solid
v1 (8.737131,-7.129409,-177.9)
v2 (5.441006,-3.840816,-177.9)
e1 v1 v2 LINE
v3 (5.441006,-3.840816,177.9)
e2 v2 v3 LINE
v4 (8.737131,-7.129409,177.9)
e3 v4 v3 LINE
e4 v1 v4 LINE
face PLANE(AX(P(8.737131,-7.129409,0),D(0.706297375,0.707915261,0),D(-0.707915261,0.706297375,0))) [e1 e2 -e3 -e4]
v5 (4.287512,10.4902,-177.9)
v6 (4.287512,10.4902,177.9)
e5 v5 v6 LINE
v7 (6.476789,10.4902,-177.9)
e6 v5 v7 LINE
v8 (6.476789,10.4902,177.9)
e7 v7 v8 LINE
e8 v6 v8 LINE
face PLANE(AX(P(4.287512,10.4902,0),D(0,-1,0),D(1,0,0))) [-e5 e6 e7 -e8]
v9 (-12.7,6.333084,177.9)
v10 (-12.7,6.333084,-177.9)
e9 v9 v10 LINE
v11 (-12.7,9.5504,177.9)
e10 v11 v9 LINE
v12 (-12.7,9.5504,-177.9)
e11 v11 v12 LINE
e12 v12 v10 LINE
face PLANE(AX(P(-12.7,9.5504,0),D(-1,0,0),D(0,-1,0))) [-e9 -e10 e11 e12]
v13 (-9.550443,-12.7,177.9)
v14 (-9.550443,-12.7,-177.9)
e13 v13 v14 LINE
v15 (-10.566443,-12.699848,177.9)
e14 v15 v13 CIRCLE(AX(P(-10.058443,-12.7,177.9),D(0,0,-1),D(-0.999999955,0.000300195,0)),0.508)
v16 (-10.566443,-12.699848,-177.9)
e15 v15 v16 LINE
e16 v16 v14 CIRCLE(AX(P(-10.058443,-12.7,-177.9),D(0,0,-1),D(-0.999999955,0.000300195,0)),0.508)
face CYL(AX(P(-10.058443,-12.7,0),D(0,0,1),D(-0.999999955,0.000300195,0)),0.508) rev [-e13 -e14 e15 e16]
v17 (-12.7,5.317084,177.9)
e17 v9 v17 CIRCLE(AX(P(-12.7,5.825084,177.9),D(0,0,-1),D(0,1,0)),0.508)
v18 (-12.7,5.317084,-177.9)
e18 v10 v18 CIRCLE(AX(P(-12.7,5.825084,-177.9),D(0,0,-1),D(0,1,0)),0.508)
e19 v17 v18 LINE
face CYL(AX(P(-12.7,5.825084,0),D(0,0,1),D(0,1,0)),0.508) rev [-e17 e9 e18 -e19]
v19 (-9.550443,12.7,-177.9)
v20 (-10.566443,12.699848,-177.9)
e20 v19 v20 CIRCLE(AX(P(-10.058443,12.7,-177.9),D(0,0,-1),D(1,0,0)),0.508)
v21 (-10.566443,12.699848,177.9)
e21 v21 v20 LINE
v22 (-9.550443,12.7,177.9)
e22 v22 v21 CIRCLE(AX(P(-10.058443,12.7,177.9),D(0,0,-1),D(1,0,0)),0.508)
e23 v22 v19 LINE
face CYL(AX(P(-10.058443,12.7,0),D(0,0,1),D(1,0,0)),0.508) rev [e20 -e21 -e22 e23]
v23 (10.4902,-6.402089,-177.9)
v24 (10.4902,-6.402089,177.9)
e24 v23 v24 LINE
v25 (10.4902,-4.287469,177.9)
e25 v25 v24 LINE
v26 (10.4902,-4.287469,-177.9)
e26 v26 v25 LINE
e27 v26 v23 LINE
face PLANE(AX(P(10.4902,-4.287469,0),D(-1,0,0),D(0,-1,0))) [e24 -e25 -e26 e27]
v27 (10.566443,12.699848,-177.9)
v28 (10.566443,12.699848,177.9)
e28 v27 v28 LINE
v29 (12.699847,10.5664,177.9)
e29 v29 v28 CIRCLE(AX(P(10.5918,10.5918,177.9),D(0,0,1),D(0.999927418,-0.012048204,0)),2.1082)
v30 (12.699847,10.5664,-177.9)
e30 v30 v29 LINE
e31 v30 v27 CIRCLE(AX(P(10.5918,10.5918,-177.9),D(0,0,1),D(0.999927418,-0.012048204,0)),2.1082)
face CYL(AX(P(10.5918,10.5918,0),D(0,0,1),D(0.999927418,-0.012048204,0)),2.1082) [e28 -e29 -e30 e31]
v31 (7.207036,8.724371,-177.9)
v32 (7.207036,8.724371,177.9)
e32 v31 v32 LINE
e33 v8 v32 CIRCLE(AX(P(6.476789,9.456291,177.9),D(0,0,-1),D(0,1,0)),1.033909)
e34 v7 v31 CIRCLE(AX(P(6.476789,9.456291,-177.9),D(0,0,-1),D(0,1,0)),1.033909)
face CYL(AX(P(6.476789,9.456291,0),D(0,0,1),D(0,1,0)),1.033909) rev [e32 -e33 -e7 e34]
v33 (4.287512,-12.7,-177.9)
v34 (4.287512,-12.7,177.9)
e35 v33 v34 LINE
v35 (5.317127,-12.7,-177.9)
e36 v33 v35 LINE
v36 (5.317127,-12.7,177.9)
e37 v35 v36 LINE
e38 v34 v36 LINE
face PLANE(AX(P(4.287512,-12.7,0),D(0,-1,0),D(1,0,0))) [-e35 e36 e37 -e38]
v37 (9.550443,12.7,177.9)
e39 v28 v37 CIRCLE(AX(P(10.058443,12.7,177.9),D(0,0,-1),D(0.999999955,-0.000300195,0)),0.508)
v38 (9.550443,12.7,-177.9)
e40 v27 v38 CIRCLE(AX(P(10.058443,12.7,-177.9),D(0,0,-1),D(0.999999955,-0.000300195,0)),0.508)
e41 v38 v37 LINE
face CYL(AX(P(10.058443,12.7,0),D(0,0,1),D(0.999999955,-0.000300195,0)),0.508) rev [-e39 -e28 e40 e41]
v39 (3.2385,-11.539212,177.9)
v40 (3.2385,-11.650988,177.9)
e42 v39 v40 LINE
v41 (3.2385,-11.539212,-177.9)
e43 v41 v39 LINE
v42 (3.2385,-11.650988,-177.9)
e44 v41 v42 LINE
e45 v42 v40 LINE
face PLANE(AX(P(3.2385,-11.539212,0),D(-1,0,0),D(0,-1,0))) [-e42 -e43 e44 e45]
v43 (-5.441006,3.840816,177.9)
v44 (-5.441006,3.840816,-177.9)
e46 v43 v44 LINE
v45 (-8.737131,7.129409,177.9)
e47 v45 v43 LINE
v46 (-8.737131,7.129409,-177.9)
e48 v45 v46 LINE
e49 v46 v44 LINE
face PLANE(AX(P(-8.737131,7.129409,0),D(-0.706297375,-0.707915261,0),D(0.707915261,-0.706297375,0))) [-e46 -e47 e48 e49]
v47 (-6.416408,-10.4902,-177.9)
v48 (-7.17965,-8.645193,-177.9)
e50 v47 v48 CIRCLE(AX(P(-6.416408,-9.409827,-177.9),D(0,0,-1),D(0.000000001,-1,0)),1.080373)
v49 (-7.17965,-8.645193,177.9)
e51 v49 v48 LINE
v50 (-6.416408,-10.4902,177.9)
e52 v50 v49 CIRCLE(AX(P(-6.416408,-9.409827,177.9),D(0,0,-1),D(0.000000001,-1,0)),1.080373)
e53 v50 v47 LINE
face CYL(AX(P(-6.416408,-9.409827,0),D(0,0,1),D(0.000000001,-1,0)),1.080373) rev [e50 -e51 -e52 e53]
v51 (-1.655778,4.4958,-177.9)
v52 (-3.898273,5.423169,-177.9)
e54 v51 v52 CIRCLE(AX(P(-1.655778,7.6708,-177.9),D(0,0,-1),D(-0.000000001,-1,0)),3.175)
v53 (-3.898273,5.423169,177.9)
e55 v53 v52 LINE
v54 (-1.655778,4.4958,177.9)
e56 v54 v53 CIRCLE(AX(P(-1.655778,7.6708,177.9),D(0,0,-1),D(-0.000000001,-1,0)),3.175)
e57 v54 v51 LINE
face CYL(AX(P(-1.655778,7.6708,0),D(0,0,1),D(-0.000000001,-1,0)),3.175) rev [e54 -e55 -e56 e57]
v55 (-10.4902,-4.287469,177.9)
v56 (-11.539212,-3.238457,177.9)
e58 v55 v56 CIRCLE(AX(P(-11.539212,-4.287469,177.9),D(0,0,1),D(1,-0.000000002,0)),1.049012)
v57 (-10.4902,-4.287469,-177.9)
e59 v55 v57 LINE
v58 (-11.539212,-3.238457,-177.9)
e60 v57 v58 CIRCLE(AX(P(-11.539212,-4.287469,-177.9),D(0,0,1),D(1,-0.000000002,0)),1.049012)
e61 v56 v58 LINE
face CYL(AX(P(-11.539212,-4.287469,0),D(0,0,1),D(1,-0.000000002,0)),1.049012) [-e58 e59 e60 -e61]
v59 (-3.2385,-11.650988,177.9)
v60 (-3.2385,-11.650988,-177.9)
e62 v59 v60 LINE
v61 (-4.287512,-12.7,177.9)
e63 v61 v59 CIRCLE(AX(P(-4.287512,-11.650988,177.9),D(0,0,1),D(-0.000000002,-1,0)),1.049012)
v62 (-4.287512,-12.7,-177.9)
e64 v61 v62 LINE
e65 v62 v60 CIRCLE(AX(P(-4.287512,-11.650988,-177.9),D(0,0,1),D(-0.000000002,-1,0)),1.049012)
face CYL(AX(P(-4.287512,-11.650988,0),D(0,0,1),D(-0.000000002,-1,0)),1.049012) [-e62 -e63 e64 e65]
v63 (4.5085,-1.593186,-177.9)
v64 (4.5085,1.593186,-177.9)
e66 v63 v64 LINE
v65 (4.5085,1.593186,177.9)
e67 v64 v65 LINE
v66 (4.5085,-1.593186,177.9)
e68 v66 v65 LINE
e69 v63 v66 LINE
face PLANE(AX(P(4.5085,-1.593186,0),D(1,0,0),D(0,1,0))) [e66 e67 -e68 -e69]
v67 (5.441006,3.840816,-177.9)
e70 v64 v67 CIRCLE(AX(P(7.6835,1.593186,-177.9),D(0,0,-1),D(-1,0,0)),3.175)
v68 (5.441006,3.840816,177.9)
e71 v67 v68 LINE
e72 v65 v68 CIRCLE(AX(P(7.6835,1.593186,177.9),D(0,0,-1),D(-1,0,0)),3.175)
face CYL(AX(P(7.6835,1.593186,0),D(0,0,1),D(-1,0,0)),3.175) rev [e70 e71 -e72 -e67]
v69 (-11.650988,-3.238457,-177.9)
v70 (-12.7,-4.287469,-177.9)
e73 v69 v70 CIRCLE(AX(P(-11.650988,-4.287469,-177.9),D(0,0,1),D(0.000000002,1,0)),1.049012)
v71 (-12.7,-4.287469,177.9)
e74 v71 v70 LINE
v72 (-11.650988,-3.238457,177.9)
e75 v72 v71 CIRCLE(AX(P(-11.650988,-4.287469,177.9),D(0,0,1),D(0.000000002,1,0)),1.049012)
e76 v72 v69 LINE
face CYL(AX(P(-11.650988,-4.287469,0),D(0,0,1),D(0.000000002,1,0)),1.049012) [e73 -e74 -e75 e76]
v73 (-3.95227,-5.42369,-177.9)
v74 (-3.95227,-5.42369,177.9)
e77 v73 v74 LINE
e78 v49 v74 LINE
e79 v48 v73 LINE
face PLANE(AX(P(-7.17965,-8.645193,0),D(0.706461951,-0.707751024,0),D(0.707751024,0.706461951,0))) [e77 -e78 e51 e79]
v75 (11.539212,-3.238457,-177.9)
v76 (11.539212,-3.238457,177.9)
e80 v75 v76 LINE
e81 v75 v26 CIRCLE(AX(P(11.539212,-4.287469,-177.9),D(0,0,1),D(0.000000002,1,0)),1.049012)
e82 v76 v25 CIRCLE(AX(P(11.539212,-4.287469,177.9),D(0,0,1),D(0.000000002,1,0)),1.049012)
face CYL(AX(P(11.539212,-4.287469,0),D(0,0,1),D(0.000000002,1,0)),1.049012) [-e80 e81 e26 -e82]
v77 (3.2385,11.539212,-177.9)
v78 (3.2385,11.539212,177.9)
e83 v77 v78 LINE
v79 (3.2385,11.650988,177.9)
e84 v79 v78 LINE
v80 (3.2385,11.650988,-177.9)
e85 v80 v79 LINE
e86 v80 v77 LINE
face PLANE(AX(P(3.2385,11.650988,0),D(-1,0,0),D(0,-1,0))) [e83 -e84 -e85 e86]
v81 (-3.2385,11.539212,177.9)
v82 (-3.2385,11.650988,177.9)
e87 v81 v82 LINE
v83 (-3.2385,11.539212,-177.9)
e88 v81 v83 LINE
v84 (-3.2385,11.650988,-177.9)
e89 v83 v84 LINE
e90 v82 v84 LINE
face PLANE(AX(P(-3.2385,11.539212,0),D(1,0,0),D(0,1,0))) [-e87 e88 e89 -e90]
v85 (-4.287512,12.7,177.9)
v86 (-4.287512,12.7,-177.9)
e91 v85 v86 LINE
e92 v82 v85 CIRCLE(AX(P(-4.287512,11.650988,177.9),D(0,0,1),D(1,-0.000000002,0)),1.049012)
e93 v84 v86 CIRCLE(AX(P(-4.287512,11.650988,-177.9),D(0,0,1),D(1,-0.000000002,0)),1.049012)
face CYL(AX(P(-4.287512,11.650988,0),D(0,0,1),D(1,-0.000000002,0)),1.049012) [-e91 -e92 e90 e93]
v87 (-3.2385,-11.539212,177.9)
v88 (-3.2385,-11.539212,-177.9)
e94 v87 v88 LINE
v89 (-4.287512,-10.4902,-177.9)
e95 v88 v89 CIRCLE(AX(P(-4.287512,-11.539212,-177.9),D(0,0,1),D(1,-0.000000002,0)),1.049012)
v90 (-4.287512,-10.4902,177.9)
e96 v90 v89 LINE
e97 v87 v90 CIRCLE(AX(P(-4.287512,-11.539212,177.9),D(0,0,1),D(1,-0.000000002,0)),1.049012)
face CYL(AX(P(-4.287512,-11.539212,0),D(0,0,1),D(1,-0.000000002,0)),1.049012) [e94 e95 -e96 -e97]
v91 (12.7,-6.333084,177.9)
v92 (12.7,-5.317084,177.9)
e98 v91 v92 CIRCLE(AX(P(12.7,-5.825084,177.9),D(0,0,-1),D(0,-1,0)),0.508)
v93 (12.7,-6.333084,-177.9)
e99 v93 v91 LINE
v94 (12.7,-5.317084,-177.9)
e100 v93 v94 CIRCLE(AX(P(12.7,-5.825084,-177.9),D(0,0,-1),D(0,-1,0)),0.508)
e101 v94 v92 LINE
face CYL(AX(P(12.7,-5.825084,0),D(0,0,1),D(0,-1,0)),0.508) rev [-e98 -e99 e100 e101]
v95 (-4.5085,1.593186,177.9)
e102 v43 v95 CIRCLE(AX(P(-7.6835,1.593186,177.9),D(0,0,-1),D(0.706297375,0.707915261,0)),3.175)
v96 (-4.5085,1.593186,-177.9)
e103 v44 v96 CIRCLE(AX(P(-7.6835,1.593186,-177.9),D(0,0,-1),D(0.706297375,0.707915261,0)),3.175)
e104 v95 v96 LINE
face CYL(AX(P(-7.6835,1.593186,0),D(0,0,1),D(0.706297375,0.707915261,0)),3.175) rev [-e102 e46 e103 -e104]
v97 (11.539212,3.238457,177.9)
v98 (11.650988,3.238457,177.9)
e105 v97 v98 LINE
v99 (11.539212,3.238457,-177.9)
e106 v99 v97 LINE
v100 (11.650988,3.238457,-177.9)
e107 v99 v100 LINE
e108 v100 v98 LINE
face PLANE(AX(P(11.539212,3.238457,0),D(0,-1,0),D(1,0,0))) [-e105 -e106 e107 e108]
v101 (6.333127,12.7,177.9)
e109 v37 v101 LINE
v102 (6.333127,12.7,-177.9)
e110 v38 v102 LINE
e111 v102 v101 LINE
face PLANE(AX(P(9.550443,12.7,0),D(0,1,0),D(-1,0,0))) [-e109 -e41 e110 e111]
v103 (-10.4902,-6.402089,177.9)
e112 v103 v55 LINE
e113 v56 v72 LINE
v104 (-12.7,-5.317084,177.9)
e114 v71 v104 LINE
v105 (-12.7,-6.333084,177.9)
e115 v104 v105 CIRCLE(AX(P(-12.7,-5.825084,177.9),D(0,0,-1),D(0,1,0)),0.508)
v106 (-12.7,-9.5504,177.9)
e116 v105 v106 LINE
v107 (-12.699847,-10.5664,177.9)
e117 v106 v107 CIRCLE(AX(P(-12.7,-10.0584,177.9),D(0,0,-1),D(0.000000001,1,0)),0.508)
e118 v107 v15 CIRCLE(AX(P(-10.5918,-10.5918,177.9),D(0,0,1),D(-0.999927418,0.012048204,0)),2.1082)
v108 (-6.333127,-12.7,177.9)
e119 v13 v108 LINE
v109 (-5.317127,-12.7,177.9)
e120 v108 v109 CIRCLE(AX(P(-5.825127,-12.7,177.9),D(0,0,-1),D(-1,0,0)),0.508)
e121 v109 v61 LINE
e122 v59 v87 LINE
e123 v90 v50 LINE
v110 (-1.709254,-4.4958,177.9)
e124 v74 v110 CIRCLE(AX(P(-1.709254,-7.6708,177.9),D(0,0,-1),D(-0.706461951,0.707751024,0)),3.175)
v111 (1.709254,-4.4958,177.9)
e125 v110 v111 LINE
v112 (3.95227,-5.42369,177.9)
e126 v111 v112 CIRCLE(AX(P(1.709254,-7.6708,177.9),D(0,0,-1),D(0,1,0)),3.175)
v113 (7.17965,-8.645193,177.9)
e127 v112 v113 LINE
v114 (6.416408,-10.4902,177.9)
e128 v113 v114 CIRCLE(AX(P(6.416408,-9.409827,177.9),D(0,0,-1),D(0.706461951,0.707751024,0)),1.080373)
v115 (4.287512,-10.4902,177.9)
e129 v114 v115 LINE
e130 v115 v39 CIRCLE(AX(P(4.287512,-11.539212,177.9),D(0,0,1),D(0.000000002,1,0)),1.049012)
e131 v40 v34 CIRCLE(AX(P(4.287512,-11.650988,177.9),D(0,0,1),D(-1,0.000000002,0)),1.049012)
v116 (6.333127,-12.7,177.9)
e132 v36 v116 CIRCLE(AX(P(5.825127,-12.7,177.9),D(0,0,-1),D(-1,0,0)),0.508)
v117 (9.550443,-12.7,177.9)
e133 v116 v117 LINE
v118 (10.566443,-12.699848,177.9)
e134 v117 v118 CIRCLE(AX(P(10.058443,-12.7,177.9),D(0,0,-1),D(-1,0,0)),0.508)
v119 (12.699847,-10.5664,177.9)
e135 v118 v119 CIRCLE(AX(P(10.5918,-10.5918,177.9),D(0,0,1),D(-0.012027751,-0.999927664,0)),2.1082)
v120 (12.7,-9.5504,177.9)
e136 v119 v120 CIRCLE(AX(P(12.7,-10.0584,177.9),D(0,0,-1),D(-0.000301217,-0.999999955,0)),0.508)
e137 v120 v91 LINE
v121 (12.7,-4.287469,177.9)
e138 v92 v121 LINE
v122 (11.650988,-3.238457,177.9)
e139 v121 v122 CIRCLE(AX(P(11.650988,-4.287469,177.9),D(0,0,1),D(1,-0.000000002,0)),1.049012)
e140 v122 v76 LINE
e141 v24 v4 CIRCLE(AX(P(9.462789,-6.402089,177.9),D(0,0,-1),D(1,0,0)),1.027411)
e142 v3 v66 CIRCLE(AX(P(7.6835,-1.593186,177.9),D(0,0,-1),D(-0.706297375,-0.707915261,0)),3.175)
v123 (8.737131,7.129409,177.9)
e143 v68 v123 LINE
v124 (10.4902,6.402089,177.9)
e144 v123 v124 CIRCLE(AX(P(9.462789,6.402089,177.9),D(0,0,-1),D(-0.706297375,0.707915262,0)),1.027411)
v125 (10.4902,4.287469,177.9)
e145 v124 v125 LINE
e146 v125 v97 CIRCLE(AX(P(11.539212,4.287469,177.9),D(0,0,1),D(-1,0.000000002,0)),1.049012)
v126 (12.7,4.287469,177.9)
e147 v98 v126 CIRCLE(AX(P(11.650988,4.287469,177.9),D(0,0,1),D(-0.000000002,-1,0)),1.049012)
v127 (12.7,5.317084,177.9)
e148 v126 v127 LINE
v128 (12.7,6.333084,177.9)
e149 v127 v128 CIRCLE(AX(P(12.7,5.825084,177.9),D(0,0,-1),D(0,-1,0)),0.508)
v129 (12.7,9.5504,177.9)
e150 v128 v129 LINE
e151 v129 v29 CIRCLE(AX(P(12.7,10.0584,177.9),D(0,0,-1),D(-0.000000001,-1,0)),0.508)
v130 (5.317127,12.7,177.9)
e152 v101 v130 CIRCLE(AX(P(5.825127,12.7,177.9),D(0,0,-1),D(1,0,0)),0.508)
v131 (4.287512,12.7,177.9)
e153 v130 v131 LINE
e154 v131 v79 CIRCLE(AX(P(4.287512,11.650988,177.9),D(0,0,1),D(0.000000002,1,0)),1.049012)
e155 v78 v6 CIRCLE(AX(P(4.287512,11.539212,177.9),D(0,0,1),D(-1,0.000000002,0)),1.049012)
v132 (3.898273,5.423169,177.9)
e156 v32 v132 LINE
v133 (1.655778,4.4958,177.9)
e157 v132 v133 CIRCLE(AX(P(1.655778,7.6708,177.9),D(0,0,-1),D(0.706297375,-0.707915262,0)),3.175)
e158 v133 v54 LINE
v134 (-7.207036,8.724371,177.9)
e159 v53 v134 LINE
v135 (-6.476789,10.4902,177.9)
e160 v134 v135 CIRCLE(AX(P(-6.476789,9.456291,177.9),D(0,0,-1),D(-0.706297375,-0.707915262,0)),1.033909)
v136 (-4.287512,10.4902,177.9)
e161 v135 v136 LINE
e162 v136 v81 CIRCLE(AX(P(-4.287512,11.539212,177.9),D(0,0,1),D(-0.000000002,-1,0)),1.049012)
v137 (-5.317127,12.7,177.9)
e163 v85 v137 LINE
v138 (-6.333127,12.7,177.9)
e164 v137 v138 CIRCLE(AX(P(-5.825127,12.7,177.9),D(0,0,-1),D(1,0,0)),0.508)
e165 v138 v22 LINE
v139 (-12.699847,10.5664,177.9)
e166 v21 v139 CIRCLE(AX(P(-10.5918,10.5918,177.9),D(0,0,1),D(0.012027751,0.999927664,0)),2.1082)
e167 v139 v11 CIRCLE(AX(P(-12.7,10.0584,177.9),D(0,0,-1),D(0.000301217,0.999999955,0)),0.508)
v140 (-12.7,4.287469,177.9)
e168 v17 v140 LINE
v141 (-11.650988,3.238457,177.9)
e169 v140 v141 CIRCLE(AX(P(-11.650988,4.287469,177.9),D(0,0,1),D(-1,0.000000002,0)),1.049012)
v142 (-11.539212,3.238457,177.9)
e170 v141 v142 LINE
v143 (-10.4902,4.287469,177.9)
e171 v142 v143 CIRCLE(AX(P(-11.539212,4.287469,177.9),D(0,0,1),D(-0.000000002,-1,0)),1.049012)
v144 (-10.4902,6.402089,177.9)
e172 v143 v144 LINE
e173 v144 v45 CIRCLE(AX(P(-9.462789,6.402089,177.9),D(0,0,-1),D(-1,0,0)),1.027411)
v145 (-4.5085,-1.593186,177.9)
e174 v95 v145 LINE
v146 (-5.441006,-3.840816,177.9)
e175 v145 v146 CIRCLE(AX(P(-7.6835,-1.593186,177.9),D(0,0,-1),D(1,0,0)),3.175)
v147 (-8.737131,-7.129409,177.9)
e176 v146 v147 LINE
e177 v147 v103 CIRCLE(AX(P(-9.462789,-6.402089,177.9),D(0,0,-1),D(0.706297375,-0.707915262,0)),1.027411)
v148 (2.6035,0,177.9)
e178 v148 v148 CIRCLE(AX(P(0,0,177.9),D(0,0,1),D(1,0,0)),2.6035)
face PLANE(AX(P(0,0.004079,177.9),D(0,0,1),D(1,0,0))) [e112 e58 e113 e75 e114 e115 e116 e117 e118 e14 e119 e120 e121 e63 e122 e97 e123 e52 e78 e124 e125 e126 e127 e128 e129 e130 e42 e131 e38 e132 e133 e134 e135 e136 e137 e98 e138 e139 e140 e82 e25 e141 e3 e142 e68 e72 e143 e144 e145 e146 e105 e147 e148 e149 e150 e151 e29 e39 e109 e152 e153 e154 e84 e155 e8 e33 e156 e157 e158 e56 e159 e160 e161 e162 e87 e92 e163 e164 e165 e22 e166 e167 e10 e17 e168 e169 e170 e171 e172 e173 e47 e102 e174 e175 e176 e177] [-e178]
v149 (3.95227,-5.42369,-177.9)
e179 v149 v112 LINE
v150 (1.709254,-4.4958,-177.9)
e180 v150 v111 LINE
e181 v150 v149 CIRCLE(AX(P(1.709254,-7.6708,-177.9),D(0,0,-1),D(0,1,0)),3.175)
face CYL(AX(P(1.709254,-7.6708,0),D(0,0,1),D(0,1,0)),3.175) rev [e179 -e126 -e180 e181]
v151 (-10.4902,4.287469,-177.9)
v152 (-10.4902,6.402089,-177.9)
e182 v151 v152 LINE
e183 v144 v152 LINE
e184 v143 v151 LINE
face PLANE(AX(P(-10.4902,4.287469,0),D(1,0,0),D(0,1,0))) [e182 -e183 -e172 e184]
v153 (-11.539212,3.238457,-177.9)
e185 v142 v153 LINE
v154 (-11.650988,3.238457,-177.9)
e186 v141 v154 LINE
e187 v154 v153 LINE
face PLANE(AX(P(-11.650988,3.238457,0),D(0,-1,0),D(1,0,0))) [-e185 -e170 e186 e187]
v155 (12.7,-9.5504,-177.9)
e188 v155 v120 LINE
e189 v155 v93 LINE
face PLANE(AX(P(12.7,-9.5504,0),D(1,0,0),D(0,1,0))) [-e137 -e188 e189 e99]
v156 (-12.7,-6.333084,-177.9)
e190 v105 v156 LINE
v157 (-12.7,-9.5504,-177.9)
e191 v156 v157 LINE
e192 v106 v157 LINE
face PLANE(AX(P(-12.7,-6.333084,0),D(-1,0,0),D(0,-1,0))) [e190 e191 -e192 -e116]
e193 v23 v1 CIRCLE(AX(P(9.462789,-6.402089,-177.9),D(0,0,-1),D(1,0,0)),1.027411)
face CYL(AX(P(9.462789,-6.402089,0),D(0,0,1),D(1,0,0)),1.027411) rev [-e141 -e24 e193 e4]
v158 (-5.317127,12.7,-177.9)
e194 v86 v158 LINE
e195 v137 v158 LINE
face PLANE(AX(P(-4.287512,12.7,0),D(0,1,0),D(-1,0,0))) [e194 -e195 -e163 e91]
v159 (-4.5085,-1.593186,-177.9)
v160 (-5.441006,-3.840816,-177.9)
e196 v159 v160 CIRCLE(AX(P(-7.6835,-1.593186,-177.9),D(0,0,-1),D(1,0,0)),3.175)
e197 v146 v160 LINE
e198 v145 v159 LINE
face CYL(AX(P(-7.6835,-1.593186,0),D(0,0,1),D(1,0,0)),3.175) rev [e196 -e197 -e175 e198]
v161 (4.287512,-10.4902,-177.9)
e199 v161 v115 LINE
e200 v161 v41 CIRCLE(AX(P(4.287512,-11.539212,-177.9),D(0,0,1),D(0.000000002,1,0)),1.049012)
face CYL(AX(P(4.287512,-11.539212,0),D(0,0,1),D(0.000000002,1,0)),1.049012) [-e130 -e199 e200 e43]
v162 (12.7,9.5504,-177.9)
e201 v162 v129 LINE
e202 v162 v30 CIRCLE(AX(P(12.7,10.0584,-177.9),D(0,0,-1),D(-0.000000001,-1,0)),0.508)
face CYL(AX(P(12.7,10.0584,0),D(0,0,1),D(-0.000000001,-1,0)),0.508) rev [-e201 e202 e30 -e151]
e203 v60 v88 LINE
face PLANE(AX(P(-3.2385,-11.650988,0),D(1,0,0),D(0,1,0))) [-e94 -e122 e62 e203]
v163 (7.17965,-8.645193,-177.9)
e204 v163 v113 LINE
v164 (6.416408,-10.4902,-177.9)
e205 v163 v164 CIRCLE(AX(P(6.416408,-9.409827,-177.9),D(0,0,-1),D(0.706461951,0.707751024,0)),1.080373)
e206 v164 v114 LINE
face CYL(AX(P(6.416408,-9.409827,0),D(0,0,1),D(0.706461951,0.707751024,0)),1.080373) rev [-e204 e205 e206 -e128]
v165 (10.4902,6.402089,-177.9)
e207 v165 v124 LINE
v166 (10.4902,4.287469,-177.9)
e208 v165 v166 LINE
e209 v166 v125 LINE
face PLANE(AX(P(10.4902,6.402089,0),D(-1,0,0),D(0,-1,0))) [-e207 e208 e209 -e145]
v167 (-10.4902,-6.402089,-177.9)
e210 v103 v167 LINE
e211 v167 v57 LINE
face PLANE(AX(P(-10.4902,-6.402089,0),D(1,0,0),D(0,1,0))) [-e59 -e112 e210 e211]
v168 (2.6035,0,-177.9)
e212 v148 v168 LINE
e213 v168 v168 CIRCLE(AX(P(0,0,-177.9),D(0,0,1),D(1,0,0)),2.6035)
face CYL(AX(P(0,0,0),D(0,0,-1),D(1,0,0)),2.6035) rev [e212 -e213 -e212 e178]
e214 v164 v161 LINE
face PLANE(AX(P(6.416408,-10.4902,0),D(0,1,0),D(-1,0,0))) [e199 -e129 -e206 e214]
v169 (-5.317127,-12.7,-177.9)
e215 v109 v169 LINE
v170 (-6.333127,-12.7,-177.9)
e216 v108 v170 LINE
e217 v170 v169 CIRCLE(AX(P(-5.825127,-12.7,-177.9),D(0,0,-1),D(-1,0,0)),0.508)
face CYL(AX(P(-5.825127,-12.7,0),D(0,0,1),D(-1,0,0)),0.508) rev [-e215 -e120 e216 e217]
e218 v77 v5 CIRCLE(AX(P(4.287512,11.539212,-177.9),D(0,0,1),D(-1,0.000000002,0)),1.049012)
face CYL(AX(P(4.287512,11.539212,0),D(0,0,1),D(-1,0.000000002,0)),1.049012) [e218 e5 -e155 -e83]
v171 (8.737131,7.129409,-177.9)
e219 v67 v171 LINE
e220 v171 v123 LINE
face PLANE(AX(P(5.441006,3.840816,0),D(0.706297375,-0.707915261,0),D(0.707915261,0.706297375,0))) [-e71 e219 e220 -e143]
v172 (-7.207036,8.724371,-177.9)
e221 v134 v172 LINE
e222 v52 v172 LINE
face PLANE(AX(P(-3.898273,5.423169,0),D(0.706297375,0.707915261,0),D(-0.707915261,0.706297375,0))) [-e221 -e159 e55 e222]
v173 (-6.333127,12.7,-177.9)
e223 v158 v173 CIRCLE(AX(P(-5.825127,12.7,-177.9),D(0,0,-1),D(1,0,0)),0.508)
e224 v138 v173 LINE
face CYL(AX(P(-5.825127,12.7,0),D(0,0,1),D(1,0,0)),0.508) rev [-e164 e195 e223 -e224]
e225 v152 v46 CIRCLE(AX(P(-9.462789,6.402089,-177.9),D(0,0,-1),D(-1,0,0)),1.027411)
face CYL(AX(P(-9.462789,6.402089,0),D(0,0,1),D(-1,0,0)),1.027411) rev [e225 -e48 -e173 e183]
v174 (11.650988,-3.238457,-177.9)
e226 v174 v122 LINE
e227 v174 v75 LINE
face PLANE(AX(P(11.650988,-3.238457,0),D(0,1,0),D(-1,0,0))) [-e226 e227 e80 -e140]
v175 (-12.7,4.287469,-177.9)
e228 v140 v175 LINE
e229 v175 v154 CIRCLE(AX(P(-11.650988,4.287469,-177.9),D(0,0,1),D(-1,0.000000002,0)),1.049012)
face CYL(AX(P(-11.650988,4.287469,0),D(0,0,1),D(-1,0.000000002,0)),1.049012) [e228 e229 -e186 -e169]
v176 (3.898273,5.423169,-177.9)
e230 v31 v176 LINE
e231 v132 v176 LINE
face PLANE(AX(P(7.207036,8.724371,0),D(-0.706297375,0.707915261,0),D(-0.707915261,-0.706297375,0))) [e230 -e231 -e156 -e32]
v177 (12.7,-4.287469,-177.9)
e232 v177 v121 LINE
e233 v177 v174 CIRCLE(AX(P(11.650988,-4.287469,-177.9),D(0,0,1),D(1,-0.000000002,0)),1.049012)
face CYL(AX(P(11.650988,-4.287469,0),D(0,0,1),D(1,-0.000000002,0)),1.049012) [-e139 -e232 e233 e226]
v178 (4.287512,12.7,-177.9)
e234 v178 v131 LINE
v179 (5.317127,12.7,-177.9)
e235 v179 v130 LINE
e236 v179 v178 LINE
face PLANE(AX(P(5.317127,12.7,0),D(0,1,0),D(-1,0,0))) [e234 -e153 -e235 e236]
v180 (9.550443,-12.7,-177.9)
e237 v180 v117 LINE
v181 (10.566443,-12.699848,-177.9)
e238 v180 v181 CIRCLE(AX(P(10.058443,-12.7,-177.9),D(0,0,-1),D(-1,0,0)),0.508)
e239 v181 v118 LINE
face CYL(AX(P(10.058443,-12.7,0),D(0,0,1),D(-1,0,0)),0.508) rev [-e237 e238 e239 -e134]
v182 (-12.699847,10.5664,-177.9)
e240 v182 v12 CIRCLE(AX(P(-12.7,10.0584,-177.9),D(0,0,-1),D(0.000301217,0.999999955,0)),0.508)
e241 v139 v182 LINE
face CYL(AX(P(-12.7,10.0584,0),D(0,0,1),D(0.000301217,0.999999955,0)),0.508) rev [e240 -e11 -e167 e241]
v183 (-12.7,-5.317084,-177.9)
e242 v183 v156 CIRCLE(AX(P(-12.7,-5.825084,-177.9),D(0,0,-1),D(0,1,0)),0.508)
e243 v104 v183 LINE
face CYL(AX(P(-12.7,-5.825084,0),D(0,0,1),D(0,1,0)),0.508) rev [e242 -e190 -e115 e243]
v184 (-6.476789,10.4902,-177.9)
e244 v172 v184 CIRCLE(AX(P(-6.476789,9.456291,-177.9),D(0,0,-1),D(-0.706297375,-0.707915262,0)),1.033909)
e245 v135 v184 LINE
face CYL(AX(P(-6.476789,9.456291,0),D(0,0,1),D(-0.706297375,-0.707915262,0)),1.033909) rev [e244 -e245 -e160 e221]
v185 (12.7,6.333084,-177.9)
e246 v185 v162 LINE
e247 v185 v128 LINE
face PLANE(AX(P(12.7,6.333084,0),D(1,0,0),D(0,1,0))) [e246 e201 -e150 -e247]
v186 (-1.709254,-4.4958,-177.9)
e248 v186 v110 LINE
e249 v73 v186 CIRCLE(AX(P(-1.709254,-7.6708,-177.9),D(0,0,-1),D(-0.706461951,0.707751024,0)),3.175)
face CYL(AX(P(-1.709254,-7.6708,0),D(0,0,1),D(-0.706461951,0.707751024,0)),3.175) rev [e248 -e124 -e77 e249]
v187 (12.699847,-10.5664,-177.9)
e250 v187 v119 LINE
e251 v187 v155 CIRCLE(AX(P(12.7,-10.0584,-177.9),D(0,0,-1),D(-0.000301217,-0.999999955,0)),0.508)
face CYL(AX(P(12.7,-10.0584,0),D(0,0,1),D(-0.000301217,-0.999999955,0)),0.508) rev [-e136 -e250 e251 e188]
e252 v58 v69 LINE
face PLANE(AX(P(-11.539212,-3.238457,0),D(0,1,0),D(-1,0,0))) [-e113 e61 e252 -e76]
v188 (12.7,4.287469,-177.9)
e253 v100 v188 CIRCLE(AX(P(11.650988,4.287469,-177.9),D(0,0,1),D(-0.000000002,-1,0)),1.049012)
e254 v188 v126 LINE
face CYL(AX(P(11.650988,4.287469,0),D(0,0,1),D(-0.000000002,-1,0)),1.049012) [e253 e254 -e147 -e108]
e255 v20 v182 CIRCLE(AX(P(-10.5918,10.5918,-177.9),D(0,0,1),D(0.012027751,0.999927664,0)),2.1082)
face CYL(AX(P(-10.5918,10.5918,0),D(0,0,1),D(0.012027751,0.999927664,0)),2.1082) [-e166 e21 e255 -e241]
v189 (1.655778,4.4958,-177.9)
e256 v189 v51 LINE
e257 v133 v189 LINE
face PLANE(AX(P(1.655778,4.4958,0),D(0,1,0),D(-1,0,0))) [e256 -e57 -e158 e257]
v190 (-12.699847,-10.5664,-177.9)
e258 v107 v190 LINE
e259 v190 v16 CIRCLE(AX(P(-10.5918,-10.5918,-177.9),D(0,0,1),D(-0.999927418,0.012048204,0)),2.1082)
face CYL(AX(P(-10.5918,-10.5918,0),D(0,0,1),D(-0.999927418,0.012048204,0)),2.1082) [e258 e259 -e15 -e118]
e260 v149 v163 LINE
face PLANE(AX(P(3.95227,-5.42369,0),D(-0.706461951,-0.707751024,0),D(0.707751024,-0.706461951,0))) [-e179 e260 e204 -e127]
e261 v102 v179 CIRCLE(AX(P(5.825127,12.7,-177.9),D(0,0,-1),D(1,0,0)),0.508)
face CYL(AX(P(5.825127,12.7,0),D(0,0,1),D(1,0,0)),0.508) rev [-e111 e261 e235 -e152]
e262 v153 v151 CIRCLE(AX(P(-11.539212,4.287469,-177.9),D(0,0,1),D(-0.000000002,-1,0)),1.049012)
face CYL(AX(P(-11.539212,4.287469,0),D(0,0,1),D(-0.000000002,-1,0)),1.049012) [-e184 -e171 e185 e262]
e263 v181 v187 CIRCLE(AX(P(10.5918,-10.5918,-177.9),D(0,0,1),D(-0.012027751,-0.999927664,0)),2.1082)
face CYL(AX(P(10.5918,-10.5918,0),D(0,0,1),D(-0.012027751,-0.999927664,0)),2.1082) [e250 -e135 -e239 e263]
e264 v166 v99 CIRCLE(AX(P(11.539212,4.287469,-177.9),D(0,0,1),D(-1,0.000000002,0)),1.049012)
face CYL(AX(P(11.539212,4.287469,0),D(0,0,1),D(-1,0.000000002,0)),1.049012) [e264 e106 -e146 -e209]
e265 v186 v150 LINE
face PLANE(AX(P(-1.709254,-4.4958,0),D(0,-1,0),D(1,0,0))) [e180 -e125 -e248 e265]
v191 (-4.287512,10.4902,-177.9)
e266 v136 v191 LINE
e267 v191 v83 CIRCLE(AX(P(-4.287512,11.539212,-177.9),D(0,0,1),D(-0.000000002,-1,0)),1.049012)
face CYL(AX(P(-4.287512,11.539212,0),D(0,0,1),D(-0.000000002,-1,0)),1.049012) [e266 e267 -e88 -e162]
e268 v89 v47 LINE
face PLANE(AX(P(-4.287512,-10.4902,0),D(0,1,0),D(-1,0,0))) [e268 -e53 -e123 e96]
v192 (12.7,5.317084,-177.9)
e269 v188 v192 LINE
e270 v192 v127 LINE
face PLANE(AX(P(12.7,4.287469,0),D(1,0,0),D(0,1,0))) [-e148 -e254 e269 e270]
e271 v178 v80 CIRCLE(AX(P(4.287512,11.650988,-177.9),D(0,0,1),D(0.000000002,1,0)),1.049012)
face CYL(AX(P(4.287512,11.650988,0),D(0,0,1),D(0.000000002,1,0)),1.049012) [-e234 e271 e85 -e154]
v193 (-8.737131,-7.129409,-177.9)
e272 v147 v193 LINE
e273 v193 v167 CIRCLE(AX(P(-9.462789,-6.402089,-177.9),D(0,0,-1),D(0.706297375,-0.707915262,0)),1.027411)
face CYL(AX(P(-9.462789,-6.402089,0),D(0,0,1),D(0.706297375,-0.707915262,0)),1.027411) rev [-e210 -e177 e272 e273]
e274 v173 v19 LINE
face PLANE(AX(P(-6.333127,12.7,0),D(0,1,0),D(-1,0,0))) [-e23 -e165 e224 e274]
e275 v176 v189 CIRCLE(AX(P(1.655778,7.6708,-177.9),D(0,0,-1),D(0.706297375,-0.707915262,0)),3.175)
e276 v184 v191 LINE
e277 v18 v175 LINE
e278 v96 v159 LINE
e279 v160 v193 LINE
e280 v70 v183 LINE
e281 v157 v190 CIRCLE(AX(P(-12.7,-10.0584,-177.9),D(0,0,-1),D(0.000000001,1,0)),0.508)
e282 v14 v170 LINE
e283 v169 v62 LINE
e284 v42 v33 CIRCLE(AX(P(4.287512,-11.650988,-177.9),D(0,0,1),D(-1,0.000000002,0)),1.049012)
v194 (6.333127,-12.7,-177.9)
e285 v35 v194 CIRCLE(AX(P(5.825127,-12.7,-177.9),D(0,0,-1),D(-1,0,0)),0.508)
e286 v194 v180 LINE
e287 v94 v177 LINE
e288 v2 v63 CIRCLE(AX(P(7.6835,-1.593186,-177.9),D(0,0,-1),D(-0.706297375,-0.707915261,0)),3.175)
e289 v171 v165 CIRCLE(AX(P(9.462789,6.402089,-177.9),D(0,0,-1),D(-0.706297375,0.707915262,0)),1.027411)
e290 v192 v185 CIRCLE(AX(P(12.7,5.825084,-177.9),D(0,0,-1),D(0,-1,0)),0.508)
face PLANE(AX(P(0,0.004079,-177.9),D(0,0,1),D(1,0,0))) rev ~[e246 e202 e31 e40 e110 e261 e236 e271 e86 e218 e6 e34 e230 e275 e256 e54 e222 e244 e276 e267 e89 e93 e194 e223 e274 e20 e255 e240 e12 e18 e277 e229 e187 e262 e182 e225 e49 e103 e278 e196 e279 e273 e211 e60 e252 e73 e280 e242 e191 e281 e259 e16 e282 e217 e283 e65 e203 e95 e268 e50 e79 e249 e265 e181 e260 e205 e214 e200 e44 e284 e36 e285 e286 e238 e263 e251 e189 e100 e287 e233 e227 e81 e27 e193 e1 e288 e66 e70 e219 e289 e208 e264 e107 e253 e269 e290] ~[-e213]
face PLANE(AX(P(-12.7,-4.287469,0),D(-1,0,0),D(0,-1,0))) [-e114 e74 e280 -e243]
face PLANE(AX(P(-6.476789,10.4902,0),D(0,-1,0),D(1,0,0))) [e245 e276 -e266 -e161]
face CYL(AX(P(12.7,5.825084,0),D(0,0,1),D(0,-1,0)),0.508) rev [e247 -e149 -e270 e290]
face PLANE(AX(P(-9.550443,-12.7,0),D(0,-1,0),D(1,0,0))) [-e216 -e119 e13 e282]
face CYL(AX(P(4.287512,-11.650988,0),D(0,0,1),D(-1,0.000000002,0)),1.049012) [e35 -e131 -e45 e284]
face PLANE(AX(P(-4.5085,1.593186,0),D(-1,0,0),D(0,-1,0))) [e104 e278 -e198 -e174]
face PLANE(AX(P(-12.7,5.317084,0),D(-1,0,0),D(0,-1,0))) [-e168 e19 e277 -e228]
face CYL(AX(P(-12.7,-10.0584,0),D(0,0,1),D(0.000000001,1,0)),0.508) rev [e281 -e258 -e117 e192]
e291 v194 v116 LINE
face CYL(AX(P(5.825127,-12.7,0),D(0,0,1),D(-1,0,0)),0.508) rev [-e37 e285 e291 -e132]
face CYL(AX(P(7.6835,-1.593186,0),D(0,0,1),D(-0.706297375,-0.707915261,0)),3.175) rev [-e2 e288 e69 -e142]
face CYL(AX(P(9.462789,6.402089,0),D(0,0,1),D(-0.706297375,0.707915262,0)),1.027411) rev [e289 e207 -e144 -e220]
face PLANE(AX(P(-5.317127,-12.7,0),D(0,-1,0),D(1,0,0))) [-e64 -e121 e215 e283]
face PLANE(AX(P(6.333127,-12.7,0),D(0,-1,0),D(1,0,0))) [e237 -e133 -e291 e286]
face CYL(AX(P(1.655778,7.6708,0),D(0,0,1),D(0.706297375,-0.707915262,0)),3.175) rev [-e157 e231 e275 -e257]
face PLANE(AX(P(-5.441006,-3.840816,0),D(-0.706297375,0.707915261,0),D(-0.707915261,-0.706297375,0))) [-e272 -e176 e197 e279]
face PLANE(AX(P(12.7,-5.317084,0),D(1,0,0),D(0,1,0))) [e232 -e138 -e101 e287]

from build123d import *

# Parameters (mm, degrees)
SKETCH1_R           = 2.6035
BOSS_EXTRUDE1_DEPTH = 177.9


with BuildPart() as part:
    # Sketch1 → Boss-Extrude1 (new body, symmetric)
    with BuildSketch(Plane.XY):
        with BuildLine():
            Line((-7.179650497, -8.645192506), (-3.952270251, -5.423690499))
            ThreePointArc((-3.952270251, -5.423690499), (-2.922936451, -4.736929036), (-1.709253557, -4.4958))
            Line((-1.709253557, -4.4958), (1.709253557, -4.4958))
            ThreePointArc((1.709253557, -4.4958), (2.922936451, -4.736929036), (3.952270251, -5.423690499))
            Line((3.952270251, -5.423690499), (7.179650497, -8.645192506))
            ThreePointArc((7.179650497, -8.645192506), (7.41473083, -9.822813117), (6.416408329, -10.4902))
            Line((6.416408329, -10.4902), (4.287512407, -10.4902))
            ThreePointArc((4.287512407, -10.4902), (3.54574862, -10.79744862), (3.2385, -11.539212407))
            Line((3.2385, -11.539212407), (3.2385, -11.650987593))
            ThreePointArc((3.2385, -11.650987593), (3.54574862, -12.39275138), (4.287512407, -12.7))
            Line((4.287512407, -12.7), (5.317126718, -12.7))
            ThreePointArc((5.317126718, -12.7), (5.825126718, -12.192), (6.333126718, -12.7))
            Line((6.333126718, -12.7), (9.550443118, -12.7))
            ThreePointArc((9.550443118, -12.7), (10.058366869, -12.192000006), (10.566443095, -12.699847501))
            ThreePointArc((10.566443095, -12.699847501), (12.082537762, -12.08250727), (12.699846982, -10.566399977))
            ThreePointArc((12.699846982, -10.566399977), (12.192000006, -10.058323491), (12.7, -9.5504))
            Line((12.7, -9.5504), (12.7, -6.3330836))
            ThreePointArc((12.7, -6.3330836), (12.192, -5.8250836), (12.7, -5.3170836))
            Line((12.7, -5.3170836), (12.7, -4.287469289))
            ThreePointArc((12.7, -4.287469289), (12.39275138, -3.545705502), (11.650987593, -3.238456882))
            Line((11.650987593, -3.238456882), (11.539212407, -3.238456882))
            ThreePointArc((11.539212407, -3.238456882), (10.79744862, -3.545705502), (10.4902, -4.287469289))
            Line((10.4902, -4.287469289), (10.4902, -6.402089023))
            ThreePointArc((10.4902, -6.402089023), (9.856505071, -7.351067942), (8.737131347, -7.129408934))
            Line((8.737131347, -7.129408934), (5.441005833, -3.840816462))
            ThreePointArc((5.441005833, -3.840816462), (4.750877967, -2.809883091), (4.5085, -1.593185507))
            Line((4.5085, -1.593185507), (4.5085, 1.593185507))
            ThreePointArc((4.5085, 1.593185507), (4.750877967, 2.809883091), (5.441005833, 3.840816462))
            Line((5.441005833, 3.840816462), (8.737131347, 7.129408934))
            ThreePointArc((8.737131347, 7.129408934), (9.856505071, 7.351067942), (10.4902, 6.402089023))
            Line((10.4902, 6.402089023), (10.4902, 4.287469289))
            ThreePointArc((10.4902, 4.287469289), (10.79744862, 3.545705502), (11.539212407, 3.238456882))
            Line((11.539212407, 3.238456882), (11.650987593, 3.238456882))
            ThreePointArc((11.650987593, 3.238456882), (12.39275138, 3.545705502), (12.7, 4.287469289))
            Line((12.7, 4.287469289), (12.7, 5.3170836))
            ThreePointArc((12.7, 5.3170836), (12.192, 5.8250836), (12.7, 6.3330836))
            Line((12.7, 6.3330836), (12.7, 9.5504))
            ThreePointArc((12.7, 9.5504), (12.192000006, 10.058323491), (12.699846982, 10.566399977))
            ThreePointArc((12.699846982, 10.566399977), (12.082537762, 12.08250727), (10.566443095, 12.699847501))
            ThreePointArc((10.566443095, 12.699847501), (10.058366869, 12.192000006), (9.550443118, 12.7))
            Line((9.550443118, 12.7), (6.333126718, 12.7))
            ThreePointArc((6.333126718, 12.7), (5.825126718, 12.192), (5.317126718, 12.7))
            Line((5.317126718, 12.7), (4.287512407, 12.7))
            ThreePointArc((4.287512407, 12.7), (3.54574862, 12.39275138), (3.2385, 11.650987593))
            Line((3.2385, 11.650987593), (3.2385, 11.539212407))
            ThreePointArc((3.2385, 11.539212407), (3.54574862, 10.79744862), (4.287512407, 10.4902))
            Line((4.287512407, 10.4902), (6.476788598, 10.4902))
            ThreePointArc((6.476788598, 10.4902), (7.432222385, 9.85140422), (7.207036008, 8.724370562))
            Line((7.207036008, 8.724370562), (3.898272566, 5.423169045))
            ThreePointArc((3.898272566, 5.423169045), (2.869120213, 4.736787962), (1.655778399, 4.4958))
            Line((1.655778399, 4.4958), (-1.655778399, 4.4958))
            ThreePointArc((-1.655778399, 4.4958), (-2.869120213, 4.736787962), (-3.898272566, 5.423169045))
            Line((-3.898272566, 5.423169045), (-7.207036008, 8.724370562))
            ThreePointArc((-7.207036008, 8.724370562), (-7.432222385, 9.85140422), (-6.476788598, 10.4902))
            Line((-6.476788598, 10.4902), (-4.287512407, 10.4902))
            ThreePointArc((-4.287512407, 10.4902), (-3.54574862, 10.79744862), (-3.2385, 11.539212407))
            Line((-3.2385, 11.539212407), (-3.2385, 11.650987593))
            ThreePointArc((-3.2385, 11.650987593), (-3.54574862, 12.39275138), (-4.287512407, 12.7))
            Line((-4.287512407, 12.7), (-5.317126718, 12.7))
            ThreePointArc((-5.317126718, 12.7), (-5.825126718, 12.192), (-6.333126718, 12.7))
            Line((-6.333126718, 12.7), (-9.550443118, 12.7))
            ThreePointArc((-9.550443118, 12.7), (-10.058366869, 12.192000006), (-10.566443095, 12.699847501))
            ThreePointArc((-10.566443095, 12.699847501), (-12.082537762, 12.08250727), (-12.699846982, 10.566399977))
            ThreePointArc((-12.699846982, 10.566399977), (-12.192000006, 10.058323491), (-12.7, 9.5504))
            Line((-12.7, 9.5504), (-12.7, 6.3330836))
            ThreePointArc((-12.7, 6.3330836), (-12.192, 5.8250836), (-12.7, 5.3170836))
            Line((-12.7, 5.3170836), (-12.7, 4.287469289))
            ThreePointArc((-12.7, 4.287469289), (-12.39275138, 3.545705502), (-11.650987593, 3.238456882))
            Line((-11.650987593, 3.238456882), (-11.539212407, 3.238456882))
            ThreePointArc((-11.539212407, 3.238456882), (-10.79744862, 3.545705502), (-10.4902, 4.287469289))
            Line((-10.4902, 4.287469289), (-10.4902, 6.402089023))
            ThreePointArc((-10.4902, 6.402089023), (-9.856505071, 7.351067942), (-8.737131347, 7.129408934))
            Line((-8.737131347, 7.129408934), (-5.441005833, 3.840816462))
            ThreePointArc((-5.441005833, 3.840816462), (-4.750877967, 2.809883091), (-4.5085, 1.593185507))
            Line((-4.5085, 1.593185507), (-4.5085, -1.593185507))
            ThreePointArc((-4.5085, -1.593185507), (-4.750877967, -2.809883091), (-5.441005833, -3.840816462))
            Line((-5.441005833, -3.840816462), (-8.737131347, -7.129408934))
            ThreePointArc((-8.737131347, -7.129408934), (-9.856505071, -7.351067942), (-10.4902, -6.402089023))
            Line((-10.4902, -6.402089023), (-10.4902, -4.287469289))
            ThreePointArc((-10.4902, -4.287469289), (-10.79744862, -3.545705502), (-11.539212407, -3.238456882))
            Line((-11.539212407, -3.238456882), (-11.650987593, -3.238456882))
            ThreePointArc((-11.650987593, -3.238456882), (-12.39275138, -3.545705502), (-12.7, -4.287469289))
            Line((-12.7, -4.287469289), (-12.7, -5.3170836))
            ThreePointArc((-12.7, -5.3170836), (-12.192, -5.8250836), (-12.7, -6.3330836))
            Line((-12.7, -6.3330836), (-12.7, -9.5504))
            ThreePointArc((-12.7, -9.5504), (-12.192000006, -10.058323491), (-12.699846982, -10.566399977))
            ThreePointArc((-12.699846982, -10.566399977), (-12.082537762, -12.08250727), (-10.566443095, -12.699847501))
            ThreePointArc((-10.566443095, -12.699847501), (-10.058366869, -12.192000006), (-9.550443118, -12.7))
            Line((-9.550443118, -12.7), (-6.333126718, -12.7))
            ThreePointArc((-6.333126718, -12.7), (-5.825126718, -12.192), (-5.317126718, -12.7))
            Line((-5.317126718, -12.7), (-4.287512407, -12.7))
            ThreePointArc((-4.287512407, -12.7), (-3.54574862, -12.39275138), (-3.2385, -11.650987593))
            Line((-3.2385, -11.650987593), (-3.2385, -11.539212407))
            ThreePointArc((-3.2385, -11.539212407), (-3.54574862, -10.79744862), (-4.287512407, -10.4902))
            Line((-4.287512407, -10.4902), (-6.416408329, -10.4902))
            ThreePointArc((-6.416408329, -10.4902), (-7.41473083, -9.822813117), (-7.179650497, -8.645192506))
        make_face()
        Circle(SKETCH1_R, mode=Mode.SUBTRACT)
    extrude(amount=BOSS_EXTRUDE1_DEPTH, both=True)


solid = part.part
